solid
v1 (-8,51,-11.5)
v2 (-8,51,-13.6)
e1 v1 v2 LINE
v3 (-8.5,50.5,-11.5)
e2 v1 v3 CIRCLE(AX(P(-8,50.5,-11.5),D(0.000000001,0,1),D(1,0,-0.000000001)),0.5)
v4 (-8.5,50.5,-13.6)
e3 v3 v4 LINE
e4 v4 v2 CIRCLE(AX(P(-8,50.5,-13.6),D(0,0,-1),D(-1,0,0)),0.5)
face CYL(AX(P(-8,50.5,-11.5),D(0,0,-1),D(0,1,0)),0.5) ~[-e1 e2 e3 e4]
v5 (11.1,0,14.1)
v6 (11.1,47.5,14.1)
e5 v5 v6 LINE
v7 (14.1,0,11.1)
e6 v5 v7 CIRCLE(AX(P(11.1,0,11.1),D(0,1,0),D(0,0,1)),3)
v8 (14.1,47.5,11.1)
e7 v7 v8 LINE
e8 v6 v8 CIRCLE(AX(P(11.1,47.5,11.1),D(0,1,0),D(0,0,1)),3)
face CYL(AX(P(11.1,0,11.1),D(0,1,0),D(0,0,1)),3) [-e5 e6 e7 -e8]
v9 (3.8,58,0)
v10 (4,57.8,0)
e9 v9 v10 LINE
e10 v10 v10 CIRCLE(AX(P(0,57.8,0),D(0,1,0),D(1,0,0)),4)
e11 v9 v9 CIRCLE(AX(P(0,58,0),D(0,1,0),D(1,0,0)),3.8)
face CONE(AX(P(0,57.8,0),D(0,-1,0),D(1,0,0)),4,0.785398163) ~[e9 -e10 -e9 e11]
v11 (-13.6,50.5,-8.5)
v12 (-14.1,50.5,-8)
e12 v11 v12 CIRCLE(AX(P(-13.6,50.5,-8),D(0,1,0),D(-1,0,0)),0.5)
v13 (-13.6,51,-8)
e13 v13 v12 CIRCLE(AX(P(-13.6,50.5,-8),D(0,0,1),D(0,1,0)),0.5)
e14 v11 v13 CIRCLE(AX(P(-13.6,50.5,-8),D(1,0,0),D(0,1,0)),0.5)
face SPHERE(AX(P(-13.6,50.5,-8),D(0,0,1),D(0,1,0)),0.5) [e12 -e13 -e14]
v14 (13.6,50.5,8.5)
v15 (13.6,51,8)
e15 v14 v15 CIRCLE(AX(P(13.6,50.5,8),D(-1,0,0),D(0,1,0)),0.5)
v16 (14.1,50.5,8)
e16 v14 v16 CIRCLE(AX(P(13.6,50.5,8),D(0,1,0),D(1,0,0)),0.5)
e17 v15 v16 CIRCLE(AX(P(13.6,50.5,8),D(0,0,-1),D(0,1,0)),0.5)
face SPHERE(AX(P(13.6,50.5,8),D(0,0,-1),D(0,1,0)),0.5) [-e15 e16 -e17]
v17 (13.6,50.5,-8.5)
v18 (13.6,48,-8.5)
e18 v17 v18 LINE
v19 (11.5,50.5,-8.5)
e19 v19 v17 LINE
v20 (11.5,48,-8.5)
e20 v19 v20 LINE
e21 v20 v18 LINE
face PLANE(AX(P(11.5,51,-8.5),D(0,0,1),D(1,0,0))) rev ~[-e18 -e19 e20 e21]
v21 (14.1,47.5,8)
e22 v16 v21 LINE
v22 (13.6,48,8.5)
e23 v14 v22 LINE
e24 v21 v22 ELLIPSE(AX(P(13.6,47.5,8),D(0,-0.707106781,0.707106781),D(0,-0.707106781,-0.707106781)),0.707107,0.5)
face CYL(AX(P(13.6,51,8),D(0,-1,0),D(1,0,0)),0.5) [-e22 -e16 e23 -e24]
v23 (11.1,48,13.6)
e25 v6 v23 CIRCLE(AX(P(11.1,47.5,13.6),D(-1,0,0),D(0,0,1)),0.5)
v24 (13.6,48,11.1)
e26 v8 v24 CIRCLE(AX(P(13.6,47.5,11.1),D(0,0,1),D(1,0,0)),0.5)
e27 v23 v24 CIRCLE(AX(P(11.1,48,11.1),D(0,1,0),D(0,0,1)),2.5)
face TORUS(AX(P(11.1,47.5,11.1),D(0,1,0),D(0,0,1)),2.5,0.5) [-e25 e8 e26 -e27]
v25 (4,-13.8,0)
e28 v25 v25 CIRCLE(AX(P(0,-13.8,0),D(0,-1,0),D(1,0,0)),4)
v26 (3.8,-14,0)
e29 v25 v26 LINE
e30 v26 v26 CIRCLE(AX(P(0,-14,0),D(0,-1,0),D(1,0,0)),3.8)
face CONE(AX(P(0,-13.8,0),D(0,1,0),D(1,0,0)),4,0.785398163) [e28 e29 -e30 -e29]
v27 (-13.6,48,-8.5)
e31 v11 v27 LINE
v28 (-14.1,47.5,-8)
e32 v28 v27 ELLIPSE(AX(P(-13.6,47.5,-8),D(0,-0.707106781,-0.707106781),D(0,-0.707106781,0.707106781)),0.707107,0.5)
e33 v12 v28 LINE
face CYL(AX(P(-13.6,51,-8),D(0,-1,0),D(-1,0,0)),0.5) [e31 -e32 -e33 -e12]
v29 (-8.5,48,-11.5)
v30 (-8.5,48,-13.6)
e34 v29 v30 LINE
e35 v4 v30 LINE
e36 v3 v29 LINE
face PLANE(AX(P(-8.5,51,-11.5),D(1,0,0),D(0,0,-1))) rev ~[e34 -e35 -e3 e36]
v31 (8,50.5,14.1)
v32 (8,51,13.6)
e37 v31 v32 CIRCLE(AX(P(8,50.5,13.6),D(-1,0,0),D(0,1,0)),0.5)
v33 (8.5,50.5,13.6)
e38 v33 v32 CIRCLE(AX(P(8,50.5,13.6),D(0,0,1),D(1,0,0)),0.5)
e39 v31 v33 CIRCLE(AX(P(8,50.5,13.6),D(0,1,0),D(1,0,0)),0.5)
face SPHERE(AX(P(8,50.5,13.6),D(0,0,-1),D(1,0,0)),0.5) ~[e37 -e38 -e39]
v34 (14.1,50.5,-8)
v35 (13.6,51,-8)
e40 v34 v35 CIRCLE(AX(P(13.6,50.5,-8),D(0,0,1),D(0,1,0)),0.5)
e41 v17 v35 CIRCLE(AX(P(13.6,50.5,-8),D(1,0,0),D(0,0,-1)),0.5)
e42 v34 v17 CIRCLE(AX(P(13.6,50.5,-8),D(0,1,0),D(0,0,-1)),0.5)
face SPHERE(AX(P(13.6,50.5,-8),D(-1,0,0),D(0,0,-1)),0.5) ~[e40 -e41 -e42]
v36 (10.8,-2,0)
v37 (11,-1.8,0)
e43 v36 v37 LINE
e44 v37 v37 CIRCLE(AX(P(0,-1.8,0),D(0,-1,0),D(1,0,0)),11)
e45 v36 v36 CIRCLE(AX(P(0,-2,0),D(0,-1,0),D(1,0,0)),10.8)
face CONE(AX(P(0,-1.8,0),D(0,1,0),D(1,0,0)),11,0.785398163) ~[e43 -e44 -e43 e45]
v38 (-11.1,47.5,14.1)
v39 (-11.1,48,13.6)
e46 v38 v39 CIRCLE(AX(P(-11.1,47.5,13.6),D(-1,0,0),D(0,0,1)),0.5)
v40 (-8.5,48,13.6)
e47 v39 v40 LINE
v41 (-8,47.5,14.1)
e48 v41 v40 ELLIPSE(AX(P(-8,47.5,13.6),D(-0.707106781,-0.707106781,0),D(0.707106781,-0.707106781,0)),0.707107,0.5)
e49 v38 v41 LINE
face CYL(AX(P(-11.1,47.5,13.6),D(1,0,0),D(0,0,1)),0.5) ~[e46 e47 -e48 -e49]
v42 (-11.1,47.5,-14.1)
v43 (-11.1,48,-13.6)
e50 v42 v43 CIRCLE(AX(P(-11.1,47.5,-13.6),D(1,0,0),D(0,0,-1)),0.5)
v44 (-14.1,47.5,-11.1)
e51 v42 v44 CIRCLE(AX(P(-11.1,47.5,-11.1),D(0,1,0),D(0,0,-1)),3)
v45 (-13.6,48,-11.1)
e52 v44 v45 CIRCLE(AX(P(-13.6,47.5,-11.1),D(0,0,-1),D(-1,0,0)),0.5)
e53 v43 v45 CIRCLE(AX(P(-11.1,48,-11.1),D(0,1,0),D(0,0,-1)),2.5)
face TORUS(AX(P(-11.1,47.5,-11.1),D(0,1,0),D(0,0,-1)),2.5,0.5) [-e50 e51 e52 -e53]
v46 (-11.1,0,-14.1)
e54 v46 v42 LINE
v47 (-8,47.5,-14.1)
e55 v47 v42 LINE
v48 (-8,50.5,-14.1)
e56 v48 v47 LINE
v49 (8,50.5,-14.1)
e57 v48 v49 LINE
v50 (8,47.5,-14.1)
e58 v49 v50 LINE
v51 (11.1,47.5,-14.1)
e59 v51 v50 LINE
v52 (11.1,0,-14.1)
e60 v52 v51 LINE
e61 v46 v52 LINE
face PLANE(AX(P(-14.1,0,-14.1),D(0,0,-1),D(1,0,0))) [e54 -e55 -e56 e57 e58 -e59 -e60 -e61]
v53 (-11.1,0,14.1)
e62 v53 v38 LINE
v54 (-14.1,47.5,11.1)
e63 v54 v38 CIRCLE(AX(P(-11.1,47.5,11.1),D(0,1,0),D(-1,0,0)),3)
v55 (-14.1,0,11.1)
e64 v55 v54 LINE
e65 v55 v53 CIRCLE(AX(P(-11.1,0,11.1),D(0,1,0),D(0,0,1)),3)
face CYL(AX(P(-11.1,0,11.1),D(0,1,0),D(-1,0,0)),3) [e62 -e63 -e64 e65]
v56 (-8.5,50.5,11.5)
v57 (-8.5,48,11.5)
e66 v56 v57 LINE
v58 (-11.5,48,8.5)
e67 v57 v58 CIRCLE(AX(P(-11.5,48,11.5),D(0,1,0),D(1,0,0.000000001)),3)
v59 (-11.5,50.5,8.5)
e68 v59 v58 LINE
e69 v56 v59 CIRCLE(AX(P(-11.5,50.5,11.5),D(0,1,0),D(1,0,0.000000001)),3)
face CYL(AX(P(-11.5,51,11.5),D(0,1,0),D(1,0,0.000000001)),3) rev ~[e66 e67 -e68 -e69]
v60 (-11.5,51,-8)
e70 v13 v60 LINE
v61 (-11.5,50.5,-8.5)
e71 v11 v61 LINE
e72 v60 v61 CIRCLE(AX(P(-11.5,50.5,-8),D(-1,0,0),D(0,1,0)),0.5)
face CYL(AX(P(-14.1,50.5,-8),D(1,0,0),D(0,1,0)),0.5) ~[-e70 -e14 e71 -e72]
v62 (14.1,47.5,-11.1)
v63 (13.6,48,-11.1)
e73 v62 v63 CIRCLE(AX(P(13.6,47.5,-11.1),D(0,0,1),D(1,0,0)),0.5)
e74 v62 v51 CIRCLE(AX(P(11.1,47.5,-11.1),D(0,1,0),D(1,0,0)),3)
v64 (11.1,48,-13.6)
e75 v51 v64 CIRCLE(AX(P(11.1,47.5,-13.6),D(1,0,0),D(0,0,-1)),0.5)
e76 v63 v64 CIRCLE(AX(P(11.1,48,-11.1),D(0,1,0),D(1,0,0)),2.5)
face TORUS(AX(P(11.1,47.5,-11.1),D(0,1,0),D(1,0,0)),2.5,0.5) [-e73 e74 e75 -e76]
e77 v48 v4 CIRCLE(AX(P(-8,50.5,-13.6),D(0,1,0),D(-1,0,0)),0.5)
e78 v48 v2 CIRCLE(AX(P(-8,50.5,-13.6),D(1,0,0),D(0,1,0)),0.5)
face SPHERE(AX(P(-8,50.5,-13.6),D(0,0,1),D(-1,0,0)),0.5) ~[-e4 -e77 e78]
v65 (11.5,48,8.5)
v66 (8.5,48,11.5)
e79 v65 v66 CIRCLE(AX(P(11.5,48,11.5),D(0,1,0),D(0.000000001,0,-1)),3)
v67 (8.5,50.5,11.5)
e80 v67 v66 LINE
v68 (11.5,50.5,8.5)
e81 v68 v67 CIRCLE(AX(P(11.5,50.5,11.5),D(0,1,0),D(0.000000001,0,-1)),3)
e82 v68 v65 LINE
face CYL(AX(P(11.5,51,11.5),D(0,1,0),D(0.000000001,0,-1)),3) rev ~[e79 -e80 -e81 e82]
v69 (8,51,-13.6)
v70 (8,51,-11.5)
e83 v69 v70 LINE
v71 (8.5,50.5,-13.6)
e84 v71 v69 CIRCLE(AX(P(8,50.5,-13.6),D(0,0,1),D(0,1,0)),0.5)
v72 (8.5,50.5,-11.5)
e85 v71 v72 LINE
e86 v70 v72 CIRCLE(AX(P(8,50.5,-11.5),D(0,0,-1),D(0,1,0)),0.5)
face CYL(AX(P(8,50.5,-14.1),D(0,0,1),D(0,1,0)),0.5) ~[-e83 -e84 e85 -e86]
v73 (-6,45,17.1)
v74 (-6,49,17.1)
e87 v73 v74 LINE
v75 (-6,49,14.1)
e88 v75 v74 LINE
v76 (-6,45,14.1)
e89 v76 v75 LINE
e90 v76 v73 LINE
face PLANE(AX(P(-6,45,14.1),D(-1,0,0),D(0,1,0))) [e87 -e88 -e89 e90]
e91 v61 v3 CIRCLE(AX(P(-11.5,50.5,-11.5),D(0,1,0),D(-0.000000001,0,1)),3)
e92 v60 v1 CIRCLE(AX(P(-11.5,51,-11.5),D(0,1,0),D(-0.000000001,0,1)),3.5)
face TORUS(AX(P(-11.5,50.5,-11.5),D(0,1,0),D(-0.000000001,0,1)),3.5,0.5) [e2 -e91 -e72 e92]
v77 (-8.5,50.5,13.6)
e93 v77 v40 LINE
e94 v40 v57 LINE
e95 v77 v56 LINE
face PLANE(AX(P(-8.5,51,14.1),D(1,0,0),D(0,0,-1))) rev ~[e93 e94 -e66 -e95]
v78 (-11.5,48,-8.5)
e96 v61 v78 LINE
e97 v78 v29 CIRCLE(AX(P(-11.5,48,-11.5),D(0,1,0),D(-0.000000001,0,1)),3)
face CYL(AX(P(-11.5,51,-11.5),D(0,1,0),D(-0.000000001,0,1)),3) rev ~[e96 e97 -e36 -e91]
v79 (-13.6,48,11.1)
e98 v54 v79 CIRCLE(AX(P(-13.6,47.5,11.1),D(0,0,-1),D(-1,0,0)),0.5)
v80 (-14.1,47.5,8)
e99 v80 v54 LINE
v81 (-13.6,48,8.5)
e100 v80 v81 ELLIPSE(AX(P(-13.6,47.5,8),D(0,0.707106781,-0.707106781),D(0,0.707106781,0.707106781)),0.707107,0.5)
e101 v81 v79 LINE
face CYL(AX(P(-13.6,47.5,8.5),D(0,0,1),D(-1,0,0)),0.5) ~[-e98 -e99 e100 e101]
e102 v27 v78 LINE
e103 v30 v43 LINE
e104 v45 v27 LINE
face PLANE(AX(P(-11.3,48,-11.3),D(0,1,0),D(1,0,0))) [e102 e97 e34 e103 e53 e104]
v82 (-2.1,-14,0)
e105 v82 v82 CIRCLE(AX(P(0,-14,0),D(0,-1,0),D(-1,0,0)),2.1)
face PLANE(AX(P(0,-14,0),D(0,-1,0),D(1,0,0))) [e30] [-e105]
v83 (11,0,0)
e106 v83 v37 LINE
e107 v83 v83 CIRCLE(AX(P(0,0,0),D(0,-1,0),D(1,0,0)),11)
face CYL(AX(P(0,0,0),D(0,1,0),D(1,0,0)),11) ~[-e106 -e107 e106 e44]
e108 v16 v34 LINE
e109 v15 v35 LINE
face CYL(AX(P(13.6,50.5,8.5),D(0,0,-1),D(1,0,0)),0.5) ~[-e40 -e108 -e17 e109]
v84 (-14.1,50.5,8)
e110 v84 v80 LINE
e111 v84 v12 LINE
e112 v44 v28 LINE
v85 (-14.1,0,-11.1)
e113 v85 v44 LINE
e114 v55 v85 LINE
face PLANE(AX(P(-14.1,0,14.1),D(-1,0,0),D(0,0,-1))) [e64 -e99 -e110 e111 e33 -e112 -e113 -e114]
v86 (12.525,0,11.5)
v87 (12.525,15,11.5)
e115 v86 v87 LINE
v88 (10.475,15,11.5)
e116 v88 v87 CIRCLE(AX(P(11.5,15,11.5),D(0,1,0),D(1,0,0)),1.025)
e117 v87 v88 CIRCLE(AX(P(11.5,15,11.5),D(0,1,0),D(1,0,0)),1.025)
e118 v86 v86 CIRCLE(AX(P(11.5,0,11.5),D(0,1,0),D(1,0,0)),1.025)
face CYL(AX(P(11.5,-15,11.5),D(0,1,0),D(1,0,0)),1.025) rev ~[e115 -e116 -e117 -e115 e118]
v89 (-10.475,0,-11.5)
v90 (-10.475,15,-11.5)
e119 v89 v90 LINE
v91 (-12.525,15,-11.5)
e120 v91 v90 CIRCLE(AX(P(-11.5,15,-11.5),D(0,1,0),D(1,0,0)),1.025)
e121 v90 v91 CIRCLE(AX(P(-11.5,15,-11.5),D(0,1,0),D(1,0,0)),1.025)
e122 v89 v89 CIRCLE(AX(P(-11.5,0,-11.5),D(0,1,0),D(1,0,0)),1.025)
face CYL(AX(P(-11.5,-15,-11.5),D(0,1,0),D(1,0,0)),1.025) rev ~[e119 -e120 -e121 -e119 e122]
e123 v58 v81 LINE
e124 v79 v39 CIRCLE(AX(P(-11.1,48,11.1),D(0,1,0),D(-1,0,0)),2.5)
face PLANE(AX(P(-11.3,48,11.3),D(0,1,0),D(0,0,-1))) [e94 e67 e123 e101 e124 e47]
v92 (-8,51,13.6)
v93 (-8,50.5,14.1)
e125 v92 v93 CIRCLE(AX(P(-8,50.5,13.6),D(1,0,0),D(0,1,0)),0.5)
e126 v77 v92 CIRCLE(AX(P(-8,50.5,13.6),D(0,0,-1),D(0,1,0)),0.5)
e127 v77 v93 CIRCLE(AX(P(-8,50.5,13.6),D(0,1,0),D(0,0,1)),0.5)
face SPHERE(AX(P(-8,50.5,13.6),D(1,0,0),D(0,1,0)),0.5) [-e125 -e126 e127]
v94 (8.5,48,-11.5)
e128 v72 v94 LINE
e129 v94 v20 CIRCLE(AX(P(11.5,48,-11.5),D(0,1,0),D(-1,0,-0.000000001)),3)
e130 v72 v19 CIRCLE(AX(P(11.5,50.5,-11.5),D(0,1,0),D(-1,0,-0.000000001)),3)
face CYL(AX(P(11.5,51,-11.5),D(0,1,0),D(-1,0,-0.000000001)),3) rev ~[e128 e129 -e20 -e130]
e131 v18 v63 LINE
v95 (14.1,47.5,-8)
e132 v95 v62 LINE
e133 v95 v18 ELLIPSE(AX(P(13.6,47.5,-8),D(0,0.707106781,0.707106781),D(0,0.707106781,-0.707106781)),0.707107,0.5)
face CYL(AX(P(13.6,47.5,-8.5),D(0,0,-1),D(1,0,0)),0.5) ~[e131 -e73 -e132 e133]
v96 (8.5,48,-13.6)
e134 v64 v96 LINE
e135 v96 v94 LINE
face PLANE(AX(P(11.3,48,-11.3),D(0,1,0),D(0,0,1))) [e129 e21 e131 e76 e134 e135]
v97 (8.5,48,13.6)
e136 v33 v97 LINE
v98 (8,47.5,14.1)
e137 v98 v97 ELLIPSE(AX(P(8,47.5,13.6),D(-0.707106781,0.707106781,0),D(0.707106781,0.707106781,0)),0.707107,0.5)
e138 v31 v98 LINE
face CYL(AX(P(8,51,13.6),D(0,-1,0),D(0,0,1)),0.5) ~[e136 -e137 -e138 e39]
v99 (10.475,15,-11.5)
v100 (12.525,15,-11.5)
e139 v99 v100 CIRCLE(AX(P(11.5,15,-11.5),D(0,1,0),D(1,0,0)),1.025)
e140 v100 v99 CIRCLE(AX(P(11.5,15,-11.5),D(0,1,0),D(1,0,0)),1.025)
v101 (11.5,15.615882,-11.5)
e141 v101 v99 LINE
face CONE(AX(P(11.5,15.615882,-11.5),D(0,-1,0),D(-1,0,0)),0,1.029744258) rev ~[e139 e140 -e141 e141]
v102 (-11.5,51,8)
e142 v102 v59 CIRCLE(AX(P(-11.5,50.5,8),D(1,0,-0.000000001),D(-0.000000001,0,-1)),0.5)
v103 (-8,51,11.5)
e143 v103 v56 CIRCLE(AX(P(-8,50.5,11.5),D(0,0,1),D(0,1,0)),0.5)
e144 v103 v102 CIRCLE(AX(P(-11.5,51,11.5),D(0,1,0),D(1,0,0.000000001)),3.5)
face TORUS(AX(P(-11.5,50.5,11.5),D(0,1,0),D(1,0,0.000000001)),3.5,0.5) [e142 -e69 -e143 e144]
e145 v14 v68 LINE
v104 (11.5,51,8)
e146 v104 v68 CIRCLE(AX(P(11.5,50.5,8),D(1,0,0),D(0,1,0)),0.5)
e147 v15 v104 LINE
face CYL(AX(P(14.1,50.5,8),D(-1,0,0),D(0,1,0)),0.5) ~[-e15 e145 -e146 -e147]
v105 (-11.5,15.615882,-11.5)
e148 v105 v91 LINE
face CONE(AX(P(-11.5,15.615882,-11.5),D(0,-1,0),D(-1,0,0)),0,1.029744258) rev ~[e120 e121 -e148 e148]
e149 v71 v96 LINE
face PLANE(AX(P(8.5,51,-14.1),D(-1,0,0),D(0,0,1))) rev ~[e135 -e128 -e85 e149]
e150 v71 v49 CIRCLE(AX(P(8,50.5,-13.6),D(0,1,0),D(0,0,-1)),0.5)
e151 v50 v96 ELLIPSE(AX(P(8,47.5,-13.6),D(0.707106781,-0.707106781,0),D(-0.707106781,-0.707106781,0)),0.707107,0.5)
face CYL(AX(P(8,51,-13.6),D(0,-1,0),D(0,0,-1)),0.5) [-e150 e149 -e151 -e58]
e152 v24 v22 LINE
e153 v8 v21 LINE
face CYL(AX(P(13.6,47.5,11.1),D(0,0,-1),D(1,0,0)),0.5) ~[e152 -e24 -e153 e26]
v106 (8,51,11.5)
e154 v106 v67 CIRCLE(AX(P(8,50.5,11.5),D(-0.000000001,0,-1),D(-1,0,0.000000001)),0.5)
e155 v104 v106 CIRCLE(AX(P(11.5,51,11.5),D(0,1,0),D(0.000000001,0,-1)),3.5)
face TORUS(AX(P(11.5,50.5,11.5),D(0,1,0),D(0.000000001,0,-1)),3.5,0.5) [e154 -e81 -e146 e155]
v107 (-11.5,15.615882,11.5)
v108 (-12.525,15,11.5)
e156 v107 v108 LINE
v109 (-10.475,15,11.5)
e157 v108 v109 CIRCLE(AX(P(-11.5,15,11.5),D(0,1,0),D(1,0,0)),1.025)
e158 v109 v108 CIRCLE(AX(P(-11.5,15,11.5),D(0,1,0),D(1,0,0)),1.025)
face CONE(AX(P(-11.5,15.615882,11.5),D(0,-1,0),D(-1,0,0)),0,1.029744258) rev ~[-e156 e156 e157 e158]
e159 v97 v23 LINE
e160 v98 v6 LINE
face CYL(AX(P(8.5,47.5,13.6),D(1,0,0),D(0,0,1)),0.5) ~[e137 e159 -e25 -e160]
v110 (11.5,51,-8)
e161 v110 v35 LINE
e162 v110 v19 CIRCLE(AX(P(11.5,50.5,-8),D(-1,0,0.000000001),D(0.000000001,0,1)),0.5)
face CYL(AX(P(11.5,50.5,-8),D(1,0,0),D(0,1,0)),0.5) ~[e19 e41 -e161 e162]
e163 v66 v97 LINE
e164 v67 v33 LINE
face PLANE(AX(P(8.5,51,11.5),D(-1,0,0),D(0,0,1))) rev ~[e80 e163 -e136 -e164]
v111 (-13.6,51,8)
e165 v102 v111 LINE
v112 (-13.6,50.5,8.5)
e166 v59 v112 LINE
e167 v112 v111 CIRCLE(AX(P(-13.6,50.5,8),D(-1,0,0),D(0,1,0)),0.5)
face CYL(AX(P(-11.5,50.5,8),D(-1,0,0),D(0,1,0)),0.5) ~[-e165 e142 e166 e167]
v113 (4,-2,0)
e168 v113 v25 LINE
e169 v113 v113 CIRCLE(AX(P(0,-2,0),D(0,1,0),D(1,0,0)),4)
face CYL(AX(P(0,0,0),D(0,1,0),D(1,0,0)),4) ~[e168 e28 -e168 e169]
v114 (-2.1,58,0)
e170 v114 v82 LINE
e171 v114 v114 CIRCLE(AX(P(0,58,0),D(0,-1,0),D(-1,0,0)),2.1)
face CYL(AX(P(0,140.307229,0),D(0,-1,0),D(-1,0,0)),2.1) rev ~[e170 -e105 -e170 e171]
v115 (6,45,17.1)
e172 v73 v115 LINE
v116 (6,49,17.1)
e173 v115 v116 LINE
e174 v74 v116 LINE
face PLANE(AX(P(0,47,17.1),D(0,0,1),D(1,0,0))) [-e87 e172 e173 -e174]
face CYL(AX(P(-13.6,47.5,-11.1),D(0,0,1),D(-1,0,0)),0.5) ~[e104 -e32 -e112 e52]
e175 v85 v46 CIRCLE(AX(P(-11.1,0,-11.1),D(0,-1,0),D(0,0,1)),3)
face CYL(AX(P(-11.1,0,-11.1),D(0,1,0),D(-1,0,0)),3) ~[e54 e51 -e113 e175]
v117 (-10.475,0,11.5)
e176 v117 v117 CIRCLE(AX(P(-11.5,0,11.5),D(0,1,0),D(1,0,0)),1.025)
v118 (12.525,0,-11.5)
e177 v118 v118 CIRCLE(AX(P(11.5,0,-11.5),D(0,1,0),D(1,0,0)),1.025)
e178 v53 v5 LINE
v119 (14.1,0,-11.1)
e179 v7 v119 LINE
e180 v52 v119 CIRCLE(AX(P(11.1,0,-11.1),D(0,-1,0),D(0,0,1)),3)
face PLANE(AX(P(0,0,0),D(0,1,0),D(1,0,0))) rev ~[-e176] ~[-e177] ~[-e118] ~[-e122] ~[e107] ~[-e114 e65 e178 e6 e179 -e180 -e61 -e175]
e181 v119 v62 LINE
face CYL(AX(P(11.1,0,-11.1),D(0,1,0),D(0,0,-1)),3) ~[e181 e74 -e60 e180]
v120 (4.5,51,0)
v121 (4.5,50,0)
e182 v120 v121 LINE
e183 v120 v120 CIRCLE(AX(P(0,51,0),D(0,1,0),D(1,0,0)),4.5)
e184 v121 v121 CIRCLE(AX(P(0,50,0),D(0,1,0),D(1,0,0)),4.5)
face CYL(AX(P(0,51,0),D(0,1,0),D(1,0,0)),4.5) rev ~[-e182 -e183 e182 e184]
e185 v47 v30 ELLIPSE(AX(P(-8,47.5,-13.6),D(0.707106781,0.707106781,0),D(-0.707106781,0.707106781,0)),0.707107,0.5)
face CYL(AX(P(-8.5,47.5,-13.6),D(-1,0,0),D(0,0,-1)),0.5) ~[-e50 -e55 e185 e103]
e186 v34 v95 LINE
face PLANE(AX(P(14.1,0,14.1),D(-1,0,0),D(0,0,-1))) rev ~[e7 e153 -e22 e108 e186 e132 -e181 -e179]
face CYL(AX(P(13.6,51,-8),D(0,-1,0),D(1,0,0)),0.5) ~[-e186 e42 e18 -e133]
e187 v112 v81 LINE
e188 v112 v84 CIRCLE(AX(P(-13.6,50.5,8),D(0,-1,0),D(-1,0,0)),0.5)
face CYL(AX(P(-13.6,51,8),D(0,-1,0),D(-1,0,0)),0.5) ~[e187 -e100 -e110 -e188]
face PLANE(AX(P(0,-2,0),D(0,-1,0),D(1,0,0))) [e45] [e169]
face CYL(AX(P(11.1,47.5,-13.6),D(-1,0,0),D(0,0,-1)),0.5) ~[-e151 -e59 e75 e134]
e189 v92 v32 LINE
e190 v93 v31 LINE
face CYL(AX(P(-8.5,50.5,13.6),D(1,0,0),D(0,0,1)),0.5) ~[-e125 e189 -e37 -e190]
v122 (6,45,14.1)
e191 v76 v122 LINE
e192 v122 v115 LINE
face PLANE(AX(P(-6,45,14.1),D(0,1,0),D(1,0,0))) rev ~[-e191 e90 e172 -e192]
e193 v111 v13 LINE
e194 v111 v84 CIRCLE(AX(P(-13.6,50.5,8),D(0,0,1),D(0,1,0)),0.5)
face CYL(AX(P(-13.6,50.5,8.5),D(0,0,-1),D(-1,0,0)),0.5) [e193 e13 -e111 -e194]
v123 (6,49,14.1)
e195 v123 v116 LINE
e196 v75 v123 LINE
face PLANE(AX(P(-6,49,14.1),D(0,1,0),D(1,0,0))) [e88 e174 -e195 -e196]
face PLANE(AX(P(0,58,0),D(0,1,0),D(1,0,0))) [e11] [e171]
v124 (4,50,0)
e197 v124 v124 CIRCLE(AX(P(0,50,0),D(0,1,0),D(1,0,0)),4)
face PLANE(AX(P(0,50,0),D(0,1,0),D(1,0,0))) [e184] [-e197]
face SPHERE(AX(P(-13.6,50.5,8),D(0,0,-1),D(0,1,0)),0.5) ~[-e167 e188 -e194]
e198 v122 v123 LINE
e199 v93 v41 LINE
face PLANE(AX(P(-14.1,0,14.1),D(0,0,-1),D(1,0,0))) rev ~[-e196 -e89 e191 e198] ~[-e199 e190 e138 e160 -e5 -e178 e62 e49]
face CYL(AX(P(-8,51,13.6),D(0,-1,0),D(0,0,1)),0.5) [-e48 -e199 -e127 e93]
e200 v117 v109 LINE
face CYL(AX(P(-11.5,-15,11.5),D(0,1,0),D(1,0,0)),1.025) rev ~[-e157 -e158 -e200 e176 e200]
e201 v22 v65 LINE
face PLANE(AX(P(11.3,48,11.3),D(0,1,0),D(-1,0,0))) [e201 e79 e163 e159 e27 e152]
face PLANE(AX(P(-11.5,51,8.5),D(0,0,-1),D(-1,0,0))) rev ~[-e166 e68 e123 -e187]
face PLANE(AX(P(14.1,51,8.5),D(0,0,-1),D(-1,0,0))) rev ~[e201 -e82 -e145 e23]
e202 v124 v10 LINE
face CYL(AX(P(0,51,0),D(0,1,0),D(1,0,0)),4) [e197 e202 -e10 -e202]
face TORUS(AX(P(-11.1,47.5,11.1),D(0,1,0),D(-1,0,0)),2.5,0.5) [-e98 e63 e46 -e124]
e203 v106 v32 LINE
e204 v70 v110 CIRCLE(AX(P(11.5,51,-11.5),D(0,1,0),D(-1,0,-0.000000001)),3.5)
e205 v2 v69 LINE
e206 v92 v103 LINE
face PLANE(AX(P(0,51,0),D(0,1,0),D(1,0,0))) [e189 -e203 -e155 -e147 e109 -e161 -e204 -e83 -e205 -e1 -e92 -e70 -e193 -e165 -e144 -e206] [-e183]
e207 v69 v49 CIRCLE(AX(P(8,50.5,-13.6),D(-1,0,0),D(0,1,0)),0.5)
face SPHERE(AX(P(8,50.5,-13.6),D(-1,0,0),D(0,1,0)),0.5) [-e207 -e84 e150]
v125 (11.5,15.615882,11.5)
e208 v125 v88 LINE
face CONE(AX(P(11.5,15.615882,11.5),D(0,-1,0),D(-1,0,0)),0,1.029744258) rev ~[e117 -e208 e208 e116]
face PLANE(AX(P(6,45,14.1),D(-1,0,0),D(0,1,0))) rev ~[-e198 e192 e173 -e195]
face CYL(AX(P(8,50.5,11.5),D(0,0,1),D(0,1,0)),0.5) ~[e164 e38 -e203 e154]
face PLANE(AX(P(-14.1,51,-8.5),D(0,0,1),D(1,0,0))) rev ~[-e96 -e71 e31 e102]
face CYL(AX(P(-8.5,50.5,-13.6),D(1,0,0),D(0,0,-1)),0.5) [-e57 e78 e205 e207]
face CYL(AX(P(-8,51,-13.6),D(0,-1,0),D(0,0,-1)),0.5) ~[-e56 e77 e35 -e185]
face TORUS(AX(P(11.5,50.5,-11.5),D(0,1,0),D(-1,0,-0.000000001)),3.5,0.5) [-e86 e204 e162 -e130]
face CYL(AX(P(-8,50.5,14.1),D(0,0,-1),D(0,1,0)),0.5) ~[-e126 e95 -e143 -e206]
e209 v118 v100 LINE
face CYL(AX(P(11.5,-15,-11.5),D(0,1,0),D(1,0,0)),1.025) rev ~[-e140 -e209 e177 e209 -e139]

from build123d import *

# Parameters (mm, degrees)
SKETCH1_W               = 28.2
SKETCH1_H               = 28.2
BOSS_EXTRUDE1_DEPTH     = 51
SKETCH2_R               = 11
BOSS_EXTRUDE2_DEPTH     = 2
M2_5_TAPPED_HOLE1_D     = 2.05
M2_5_TAPPED_HOLE1_DEPTH = 15
M2_5_TAPPED_HOLE1_TIP   = 0.615882135
FILLET1_R               = 3
SKETCH6_R               = 4
BOSS_EXTRUDE3_DEPTH     = 14
SKETCH7_R               = 4
BOSS_EXTRUDE4_DEPTH     = 7
M5_TAPPED_HOLE1_D       = 4.2
CHAMFER1_SIZE           = 0.2
SKETCH10_R              = 4.5
SKETCH10_R_2            = 4
CUT_EXTRUDE1_DEPTH      = 1
SKETCH11_W              = 12
SKETCH11_H              = 4
BOSS_EXTRUDE5_DEPTH     = 3
CUT_EXTRUDE2_DEPTH      = 3
CIRPATTERN1_COUNT       = 4
FILLET2_R               = 0.5


with BuildPart() as part:
    # Sketch1 → Boss-Extrude1 (new body)
    with BuildSketch(Plane(origin=(0, 0, 0), x_dir=(1, 0, 0), z_dir=(0, 1, 0))):
        Rectangle(SKETCH1_W, SKETCH1_H)
    extrude(amount=BOSS_EXTRUDE1_DEPTH)

    # Sketch2 → Boss-Extrude2 (add)
    with BuildSketch(Plane.XZ):
        Circle(SKETCH2_R)
    extrude(amount=BOSS_EXTRUDE2_DEPTH)

    # M2.5 Tapped Hole1
    with Locations(Plane(origin=(0, 0, 0), x_dir=(-1, 0, 0), z_dir=(0, -1, 0))):
        with Locations((11.5, -11.5), (-11.5, -11.5), (-11.5, 11.5), (11.5, 11.5)):
            Hole(M2_5_TAPPED_HOLE1_D / 2, depth=M2_5_TAPPED_HOLE1_DEPTH)
            with Locations((0, 0, -(M2_5_TAPPED_HOLE1_DEPTH + M2_5_TAPPED_HOLE1_TIP / 2))):  # 118° drill point
                Cone(0, M2_5_TAPPED_HOLE1_D / 2, M2_5_TAPPED_HOLE1_TIP, mode=Mode.SUBTRACT)

    # Fillet1
    fillet1_edges = [part.edges().sort_by_distance(p)[0] for p in [
        (14.1, 25.5, 14.1),
        (-14.1, 25.5, 14.1),
        (-14.1, 25.5, -14.1),
        (14.1, 25.5, -14.1),
    ]]
    fillet(fillet1_edges, radius=FILLET1_R)

    # Sketch6 → Boss-Extrude3 (add)
    with BuildSketch(Plane.XZ):
        Circle(SKETCH6_R)
    extrude(amount=BOSS_EXTRUDE3_DEPTH)

    # Sketch7 → Boss-Extrude4 (add)
    with BuildSketch(Plane(origin=(0, 51, 0), x_dir=(1, 0, 0), z_dir=(0, 1, 0))):
        Circle(SKETCH7_R)
    extrude(amount=BOSS_EXTRUDE4_DEPTH)

    # M5 Tapped Hole1 (through all)
    with Locations(Plane(origin=(0, 58, 0), x_dir=(1, 0, 0), z_dir=(0, 1, 0))):
        with Locations((0, 0)):
            Hole(M5_TAPPED_HOLE1_D / 2)

    # Chamfer1
    chamfer1_edges = [part.edges().sort_by_distance(p)[0] for p in [
        (-11, -2, 0),
        (-4, -14, 0),
        (-4, 58, 0),
    ]]
    chamfer(chamfer1_edges, length=CHAMFER1_SIZE)

    # Sketch10 → Cut-Extrude1 (cut)
    with BuildSketch(Plane(origin=(0, 51, 0), x_dir=(1, 0, 0), z_dir=(0, 1, 0))):
        Circle(SKETCH10_R)
        Circle(SKETCH10_R_2, mode=Mode.SUBTRACT)
    extrude(amount=-CUT_EXTRUDE1_DEPTH, mode=Mode.SUBTRACT)

    # Sketch11 → Boss-Extrude5 (add)
    with BuildSketch(Plane.XY.offset(14.1)):
        with Locations((0, 47)):
            Rectangle(SKETCH11_W, SKETCH11_H)
    extrude(amount=BOSS_EXTRUDE5_DEPTH)

    # Sketch12 → Cut-Extrude2 (cut)
    with BuildSketch(Plane(origin=(0, 51, 0), x_dir=(1, 0, 0), z_dir=(0, 1, 0))):
        with BuildLine():
            ThreePointArc((-11.5, 8.5), (-9.378679656, 9.378679656), (-8.5, 11.5))
            Line((-8.5, 11.5), (-8.5, 14.1))
            Line((-8.5, 14.1), (-11.1, 14.1))
            ThreePointArc((-11.1, 14.1), (-13.221320344, 13.221320344), (-14.1, 11.1))
            Line((-14.1, 11.1), (-14.1, 8.5))
            Line((-14.1, 8.5), (-11.5, 8.5))
        make_face()
    cut_extrude2 = extrude(amount=-CUT_EXTRUDE2_DEPTH, mode=Mode.SUBTRACT)

    # CirPattern1: Cut-Extrude2 ×4 about axis
    cirpattern1_axis = Axis((0, 0, 0), (0, 1, 0))
    for i in range(1, CIRPATTERN1_COUNT):
        add(cut_extrude2.rotate(cirpattern1_axis, i * 360 / CIRPATTERN1_COUNT), mode=Mode.SUBTRACT)

    # Fillet2
    fillet2_edges = [part.edges().sort_by_distance(p)[0] for p in [
        (-14.1, 51, 0),
        (-9.378679656, 51, -9.378679656),
        (-12.8, 51, -8.5),
        (-14.1, 48, -9.8),
        (-14.1, 49.5, -8.5),
        (-13.221320344, 48, -13.221320344),
        (-9.8, 48, -14.1),
        (-8.5, 49.5, -14.1),
        (-8.5, 51, -12.8),
        (0, 51, -14.1),
        (9.378679656, 51, -9.378679656),
        (8.5, 51, -12.8),
        (9.8, 48, -14.1),
        (8.5, 49.5, -14.1),
        (13.221320344, 48, -13.221320344),
        (14.1, 48, -9.8),
        (14.1, 49.5, -8.5),
        (12.8, 51, -8.5),
        (14.1, 51, 0),
        (9.378679656, 51, 9.378679656),
        (12.8, 51, 8.5),
        (14.1, 48, 9.8),
        (14.1, 49.5, 8.5),
        (13.221320344, 48, 13.221320344),
        (9.8, 48, 14.1),
        (8.5, 49.5, 14.1),
        (8.5, 51, 12.8),
        (0, 51, 14.1),
        (-9.378679656, 51, 9.378679656),
        (-8.5, 51, 12.8),
        (-9.8, 48, 14.1),
        (-8.5, 49.5, 14.1),
        (-13.221320344, 48, 13.221320344),
        (-14.1, 48, 9.8),
        (-14.1, 49.5, 8.5),
        (-12.8, 51, 8.5),
    ]]
    fillet(fillet2_edges, radius=FILLET2_R)


solid = part.part
